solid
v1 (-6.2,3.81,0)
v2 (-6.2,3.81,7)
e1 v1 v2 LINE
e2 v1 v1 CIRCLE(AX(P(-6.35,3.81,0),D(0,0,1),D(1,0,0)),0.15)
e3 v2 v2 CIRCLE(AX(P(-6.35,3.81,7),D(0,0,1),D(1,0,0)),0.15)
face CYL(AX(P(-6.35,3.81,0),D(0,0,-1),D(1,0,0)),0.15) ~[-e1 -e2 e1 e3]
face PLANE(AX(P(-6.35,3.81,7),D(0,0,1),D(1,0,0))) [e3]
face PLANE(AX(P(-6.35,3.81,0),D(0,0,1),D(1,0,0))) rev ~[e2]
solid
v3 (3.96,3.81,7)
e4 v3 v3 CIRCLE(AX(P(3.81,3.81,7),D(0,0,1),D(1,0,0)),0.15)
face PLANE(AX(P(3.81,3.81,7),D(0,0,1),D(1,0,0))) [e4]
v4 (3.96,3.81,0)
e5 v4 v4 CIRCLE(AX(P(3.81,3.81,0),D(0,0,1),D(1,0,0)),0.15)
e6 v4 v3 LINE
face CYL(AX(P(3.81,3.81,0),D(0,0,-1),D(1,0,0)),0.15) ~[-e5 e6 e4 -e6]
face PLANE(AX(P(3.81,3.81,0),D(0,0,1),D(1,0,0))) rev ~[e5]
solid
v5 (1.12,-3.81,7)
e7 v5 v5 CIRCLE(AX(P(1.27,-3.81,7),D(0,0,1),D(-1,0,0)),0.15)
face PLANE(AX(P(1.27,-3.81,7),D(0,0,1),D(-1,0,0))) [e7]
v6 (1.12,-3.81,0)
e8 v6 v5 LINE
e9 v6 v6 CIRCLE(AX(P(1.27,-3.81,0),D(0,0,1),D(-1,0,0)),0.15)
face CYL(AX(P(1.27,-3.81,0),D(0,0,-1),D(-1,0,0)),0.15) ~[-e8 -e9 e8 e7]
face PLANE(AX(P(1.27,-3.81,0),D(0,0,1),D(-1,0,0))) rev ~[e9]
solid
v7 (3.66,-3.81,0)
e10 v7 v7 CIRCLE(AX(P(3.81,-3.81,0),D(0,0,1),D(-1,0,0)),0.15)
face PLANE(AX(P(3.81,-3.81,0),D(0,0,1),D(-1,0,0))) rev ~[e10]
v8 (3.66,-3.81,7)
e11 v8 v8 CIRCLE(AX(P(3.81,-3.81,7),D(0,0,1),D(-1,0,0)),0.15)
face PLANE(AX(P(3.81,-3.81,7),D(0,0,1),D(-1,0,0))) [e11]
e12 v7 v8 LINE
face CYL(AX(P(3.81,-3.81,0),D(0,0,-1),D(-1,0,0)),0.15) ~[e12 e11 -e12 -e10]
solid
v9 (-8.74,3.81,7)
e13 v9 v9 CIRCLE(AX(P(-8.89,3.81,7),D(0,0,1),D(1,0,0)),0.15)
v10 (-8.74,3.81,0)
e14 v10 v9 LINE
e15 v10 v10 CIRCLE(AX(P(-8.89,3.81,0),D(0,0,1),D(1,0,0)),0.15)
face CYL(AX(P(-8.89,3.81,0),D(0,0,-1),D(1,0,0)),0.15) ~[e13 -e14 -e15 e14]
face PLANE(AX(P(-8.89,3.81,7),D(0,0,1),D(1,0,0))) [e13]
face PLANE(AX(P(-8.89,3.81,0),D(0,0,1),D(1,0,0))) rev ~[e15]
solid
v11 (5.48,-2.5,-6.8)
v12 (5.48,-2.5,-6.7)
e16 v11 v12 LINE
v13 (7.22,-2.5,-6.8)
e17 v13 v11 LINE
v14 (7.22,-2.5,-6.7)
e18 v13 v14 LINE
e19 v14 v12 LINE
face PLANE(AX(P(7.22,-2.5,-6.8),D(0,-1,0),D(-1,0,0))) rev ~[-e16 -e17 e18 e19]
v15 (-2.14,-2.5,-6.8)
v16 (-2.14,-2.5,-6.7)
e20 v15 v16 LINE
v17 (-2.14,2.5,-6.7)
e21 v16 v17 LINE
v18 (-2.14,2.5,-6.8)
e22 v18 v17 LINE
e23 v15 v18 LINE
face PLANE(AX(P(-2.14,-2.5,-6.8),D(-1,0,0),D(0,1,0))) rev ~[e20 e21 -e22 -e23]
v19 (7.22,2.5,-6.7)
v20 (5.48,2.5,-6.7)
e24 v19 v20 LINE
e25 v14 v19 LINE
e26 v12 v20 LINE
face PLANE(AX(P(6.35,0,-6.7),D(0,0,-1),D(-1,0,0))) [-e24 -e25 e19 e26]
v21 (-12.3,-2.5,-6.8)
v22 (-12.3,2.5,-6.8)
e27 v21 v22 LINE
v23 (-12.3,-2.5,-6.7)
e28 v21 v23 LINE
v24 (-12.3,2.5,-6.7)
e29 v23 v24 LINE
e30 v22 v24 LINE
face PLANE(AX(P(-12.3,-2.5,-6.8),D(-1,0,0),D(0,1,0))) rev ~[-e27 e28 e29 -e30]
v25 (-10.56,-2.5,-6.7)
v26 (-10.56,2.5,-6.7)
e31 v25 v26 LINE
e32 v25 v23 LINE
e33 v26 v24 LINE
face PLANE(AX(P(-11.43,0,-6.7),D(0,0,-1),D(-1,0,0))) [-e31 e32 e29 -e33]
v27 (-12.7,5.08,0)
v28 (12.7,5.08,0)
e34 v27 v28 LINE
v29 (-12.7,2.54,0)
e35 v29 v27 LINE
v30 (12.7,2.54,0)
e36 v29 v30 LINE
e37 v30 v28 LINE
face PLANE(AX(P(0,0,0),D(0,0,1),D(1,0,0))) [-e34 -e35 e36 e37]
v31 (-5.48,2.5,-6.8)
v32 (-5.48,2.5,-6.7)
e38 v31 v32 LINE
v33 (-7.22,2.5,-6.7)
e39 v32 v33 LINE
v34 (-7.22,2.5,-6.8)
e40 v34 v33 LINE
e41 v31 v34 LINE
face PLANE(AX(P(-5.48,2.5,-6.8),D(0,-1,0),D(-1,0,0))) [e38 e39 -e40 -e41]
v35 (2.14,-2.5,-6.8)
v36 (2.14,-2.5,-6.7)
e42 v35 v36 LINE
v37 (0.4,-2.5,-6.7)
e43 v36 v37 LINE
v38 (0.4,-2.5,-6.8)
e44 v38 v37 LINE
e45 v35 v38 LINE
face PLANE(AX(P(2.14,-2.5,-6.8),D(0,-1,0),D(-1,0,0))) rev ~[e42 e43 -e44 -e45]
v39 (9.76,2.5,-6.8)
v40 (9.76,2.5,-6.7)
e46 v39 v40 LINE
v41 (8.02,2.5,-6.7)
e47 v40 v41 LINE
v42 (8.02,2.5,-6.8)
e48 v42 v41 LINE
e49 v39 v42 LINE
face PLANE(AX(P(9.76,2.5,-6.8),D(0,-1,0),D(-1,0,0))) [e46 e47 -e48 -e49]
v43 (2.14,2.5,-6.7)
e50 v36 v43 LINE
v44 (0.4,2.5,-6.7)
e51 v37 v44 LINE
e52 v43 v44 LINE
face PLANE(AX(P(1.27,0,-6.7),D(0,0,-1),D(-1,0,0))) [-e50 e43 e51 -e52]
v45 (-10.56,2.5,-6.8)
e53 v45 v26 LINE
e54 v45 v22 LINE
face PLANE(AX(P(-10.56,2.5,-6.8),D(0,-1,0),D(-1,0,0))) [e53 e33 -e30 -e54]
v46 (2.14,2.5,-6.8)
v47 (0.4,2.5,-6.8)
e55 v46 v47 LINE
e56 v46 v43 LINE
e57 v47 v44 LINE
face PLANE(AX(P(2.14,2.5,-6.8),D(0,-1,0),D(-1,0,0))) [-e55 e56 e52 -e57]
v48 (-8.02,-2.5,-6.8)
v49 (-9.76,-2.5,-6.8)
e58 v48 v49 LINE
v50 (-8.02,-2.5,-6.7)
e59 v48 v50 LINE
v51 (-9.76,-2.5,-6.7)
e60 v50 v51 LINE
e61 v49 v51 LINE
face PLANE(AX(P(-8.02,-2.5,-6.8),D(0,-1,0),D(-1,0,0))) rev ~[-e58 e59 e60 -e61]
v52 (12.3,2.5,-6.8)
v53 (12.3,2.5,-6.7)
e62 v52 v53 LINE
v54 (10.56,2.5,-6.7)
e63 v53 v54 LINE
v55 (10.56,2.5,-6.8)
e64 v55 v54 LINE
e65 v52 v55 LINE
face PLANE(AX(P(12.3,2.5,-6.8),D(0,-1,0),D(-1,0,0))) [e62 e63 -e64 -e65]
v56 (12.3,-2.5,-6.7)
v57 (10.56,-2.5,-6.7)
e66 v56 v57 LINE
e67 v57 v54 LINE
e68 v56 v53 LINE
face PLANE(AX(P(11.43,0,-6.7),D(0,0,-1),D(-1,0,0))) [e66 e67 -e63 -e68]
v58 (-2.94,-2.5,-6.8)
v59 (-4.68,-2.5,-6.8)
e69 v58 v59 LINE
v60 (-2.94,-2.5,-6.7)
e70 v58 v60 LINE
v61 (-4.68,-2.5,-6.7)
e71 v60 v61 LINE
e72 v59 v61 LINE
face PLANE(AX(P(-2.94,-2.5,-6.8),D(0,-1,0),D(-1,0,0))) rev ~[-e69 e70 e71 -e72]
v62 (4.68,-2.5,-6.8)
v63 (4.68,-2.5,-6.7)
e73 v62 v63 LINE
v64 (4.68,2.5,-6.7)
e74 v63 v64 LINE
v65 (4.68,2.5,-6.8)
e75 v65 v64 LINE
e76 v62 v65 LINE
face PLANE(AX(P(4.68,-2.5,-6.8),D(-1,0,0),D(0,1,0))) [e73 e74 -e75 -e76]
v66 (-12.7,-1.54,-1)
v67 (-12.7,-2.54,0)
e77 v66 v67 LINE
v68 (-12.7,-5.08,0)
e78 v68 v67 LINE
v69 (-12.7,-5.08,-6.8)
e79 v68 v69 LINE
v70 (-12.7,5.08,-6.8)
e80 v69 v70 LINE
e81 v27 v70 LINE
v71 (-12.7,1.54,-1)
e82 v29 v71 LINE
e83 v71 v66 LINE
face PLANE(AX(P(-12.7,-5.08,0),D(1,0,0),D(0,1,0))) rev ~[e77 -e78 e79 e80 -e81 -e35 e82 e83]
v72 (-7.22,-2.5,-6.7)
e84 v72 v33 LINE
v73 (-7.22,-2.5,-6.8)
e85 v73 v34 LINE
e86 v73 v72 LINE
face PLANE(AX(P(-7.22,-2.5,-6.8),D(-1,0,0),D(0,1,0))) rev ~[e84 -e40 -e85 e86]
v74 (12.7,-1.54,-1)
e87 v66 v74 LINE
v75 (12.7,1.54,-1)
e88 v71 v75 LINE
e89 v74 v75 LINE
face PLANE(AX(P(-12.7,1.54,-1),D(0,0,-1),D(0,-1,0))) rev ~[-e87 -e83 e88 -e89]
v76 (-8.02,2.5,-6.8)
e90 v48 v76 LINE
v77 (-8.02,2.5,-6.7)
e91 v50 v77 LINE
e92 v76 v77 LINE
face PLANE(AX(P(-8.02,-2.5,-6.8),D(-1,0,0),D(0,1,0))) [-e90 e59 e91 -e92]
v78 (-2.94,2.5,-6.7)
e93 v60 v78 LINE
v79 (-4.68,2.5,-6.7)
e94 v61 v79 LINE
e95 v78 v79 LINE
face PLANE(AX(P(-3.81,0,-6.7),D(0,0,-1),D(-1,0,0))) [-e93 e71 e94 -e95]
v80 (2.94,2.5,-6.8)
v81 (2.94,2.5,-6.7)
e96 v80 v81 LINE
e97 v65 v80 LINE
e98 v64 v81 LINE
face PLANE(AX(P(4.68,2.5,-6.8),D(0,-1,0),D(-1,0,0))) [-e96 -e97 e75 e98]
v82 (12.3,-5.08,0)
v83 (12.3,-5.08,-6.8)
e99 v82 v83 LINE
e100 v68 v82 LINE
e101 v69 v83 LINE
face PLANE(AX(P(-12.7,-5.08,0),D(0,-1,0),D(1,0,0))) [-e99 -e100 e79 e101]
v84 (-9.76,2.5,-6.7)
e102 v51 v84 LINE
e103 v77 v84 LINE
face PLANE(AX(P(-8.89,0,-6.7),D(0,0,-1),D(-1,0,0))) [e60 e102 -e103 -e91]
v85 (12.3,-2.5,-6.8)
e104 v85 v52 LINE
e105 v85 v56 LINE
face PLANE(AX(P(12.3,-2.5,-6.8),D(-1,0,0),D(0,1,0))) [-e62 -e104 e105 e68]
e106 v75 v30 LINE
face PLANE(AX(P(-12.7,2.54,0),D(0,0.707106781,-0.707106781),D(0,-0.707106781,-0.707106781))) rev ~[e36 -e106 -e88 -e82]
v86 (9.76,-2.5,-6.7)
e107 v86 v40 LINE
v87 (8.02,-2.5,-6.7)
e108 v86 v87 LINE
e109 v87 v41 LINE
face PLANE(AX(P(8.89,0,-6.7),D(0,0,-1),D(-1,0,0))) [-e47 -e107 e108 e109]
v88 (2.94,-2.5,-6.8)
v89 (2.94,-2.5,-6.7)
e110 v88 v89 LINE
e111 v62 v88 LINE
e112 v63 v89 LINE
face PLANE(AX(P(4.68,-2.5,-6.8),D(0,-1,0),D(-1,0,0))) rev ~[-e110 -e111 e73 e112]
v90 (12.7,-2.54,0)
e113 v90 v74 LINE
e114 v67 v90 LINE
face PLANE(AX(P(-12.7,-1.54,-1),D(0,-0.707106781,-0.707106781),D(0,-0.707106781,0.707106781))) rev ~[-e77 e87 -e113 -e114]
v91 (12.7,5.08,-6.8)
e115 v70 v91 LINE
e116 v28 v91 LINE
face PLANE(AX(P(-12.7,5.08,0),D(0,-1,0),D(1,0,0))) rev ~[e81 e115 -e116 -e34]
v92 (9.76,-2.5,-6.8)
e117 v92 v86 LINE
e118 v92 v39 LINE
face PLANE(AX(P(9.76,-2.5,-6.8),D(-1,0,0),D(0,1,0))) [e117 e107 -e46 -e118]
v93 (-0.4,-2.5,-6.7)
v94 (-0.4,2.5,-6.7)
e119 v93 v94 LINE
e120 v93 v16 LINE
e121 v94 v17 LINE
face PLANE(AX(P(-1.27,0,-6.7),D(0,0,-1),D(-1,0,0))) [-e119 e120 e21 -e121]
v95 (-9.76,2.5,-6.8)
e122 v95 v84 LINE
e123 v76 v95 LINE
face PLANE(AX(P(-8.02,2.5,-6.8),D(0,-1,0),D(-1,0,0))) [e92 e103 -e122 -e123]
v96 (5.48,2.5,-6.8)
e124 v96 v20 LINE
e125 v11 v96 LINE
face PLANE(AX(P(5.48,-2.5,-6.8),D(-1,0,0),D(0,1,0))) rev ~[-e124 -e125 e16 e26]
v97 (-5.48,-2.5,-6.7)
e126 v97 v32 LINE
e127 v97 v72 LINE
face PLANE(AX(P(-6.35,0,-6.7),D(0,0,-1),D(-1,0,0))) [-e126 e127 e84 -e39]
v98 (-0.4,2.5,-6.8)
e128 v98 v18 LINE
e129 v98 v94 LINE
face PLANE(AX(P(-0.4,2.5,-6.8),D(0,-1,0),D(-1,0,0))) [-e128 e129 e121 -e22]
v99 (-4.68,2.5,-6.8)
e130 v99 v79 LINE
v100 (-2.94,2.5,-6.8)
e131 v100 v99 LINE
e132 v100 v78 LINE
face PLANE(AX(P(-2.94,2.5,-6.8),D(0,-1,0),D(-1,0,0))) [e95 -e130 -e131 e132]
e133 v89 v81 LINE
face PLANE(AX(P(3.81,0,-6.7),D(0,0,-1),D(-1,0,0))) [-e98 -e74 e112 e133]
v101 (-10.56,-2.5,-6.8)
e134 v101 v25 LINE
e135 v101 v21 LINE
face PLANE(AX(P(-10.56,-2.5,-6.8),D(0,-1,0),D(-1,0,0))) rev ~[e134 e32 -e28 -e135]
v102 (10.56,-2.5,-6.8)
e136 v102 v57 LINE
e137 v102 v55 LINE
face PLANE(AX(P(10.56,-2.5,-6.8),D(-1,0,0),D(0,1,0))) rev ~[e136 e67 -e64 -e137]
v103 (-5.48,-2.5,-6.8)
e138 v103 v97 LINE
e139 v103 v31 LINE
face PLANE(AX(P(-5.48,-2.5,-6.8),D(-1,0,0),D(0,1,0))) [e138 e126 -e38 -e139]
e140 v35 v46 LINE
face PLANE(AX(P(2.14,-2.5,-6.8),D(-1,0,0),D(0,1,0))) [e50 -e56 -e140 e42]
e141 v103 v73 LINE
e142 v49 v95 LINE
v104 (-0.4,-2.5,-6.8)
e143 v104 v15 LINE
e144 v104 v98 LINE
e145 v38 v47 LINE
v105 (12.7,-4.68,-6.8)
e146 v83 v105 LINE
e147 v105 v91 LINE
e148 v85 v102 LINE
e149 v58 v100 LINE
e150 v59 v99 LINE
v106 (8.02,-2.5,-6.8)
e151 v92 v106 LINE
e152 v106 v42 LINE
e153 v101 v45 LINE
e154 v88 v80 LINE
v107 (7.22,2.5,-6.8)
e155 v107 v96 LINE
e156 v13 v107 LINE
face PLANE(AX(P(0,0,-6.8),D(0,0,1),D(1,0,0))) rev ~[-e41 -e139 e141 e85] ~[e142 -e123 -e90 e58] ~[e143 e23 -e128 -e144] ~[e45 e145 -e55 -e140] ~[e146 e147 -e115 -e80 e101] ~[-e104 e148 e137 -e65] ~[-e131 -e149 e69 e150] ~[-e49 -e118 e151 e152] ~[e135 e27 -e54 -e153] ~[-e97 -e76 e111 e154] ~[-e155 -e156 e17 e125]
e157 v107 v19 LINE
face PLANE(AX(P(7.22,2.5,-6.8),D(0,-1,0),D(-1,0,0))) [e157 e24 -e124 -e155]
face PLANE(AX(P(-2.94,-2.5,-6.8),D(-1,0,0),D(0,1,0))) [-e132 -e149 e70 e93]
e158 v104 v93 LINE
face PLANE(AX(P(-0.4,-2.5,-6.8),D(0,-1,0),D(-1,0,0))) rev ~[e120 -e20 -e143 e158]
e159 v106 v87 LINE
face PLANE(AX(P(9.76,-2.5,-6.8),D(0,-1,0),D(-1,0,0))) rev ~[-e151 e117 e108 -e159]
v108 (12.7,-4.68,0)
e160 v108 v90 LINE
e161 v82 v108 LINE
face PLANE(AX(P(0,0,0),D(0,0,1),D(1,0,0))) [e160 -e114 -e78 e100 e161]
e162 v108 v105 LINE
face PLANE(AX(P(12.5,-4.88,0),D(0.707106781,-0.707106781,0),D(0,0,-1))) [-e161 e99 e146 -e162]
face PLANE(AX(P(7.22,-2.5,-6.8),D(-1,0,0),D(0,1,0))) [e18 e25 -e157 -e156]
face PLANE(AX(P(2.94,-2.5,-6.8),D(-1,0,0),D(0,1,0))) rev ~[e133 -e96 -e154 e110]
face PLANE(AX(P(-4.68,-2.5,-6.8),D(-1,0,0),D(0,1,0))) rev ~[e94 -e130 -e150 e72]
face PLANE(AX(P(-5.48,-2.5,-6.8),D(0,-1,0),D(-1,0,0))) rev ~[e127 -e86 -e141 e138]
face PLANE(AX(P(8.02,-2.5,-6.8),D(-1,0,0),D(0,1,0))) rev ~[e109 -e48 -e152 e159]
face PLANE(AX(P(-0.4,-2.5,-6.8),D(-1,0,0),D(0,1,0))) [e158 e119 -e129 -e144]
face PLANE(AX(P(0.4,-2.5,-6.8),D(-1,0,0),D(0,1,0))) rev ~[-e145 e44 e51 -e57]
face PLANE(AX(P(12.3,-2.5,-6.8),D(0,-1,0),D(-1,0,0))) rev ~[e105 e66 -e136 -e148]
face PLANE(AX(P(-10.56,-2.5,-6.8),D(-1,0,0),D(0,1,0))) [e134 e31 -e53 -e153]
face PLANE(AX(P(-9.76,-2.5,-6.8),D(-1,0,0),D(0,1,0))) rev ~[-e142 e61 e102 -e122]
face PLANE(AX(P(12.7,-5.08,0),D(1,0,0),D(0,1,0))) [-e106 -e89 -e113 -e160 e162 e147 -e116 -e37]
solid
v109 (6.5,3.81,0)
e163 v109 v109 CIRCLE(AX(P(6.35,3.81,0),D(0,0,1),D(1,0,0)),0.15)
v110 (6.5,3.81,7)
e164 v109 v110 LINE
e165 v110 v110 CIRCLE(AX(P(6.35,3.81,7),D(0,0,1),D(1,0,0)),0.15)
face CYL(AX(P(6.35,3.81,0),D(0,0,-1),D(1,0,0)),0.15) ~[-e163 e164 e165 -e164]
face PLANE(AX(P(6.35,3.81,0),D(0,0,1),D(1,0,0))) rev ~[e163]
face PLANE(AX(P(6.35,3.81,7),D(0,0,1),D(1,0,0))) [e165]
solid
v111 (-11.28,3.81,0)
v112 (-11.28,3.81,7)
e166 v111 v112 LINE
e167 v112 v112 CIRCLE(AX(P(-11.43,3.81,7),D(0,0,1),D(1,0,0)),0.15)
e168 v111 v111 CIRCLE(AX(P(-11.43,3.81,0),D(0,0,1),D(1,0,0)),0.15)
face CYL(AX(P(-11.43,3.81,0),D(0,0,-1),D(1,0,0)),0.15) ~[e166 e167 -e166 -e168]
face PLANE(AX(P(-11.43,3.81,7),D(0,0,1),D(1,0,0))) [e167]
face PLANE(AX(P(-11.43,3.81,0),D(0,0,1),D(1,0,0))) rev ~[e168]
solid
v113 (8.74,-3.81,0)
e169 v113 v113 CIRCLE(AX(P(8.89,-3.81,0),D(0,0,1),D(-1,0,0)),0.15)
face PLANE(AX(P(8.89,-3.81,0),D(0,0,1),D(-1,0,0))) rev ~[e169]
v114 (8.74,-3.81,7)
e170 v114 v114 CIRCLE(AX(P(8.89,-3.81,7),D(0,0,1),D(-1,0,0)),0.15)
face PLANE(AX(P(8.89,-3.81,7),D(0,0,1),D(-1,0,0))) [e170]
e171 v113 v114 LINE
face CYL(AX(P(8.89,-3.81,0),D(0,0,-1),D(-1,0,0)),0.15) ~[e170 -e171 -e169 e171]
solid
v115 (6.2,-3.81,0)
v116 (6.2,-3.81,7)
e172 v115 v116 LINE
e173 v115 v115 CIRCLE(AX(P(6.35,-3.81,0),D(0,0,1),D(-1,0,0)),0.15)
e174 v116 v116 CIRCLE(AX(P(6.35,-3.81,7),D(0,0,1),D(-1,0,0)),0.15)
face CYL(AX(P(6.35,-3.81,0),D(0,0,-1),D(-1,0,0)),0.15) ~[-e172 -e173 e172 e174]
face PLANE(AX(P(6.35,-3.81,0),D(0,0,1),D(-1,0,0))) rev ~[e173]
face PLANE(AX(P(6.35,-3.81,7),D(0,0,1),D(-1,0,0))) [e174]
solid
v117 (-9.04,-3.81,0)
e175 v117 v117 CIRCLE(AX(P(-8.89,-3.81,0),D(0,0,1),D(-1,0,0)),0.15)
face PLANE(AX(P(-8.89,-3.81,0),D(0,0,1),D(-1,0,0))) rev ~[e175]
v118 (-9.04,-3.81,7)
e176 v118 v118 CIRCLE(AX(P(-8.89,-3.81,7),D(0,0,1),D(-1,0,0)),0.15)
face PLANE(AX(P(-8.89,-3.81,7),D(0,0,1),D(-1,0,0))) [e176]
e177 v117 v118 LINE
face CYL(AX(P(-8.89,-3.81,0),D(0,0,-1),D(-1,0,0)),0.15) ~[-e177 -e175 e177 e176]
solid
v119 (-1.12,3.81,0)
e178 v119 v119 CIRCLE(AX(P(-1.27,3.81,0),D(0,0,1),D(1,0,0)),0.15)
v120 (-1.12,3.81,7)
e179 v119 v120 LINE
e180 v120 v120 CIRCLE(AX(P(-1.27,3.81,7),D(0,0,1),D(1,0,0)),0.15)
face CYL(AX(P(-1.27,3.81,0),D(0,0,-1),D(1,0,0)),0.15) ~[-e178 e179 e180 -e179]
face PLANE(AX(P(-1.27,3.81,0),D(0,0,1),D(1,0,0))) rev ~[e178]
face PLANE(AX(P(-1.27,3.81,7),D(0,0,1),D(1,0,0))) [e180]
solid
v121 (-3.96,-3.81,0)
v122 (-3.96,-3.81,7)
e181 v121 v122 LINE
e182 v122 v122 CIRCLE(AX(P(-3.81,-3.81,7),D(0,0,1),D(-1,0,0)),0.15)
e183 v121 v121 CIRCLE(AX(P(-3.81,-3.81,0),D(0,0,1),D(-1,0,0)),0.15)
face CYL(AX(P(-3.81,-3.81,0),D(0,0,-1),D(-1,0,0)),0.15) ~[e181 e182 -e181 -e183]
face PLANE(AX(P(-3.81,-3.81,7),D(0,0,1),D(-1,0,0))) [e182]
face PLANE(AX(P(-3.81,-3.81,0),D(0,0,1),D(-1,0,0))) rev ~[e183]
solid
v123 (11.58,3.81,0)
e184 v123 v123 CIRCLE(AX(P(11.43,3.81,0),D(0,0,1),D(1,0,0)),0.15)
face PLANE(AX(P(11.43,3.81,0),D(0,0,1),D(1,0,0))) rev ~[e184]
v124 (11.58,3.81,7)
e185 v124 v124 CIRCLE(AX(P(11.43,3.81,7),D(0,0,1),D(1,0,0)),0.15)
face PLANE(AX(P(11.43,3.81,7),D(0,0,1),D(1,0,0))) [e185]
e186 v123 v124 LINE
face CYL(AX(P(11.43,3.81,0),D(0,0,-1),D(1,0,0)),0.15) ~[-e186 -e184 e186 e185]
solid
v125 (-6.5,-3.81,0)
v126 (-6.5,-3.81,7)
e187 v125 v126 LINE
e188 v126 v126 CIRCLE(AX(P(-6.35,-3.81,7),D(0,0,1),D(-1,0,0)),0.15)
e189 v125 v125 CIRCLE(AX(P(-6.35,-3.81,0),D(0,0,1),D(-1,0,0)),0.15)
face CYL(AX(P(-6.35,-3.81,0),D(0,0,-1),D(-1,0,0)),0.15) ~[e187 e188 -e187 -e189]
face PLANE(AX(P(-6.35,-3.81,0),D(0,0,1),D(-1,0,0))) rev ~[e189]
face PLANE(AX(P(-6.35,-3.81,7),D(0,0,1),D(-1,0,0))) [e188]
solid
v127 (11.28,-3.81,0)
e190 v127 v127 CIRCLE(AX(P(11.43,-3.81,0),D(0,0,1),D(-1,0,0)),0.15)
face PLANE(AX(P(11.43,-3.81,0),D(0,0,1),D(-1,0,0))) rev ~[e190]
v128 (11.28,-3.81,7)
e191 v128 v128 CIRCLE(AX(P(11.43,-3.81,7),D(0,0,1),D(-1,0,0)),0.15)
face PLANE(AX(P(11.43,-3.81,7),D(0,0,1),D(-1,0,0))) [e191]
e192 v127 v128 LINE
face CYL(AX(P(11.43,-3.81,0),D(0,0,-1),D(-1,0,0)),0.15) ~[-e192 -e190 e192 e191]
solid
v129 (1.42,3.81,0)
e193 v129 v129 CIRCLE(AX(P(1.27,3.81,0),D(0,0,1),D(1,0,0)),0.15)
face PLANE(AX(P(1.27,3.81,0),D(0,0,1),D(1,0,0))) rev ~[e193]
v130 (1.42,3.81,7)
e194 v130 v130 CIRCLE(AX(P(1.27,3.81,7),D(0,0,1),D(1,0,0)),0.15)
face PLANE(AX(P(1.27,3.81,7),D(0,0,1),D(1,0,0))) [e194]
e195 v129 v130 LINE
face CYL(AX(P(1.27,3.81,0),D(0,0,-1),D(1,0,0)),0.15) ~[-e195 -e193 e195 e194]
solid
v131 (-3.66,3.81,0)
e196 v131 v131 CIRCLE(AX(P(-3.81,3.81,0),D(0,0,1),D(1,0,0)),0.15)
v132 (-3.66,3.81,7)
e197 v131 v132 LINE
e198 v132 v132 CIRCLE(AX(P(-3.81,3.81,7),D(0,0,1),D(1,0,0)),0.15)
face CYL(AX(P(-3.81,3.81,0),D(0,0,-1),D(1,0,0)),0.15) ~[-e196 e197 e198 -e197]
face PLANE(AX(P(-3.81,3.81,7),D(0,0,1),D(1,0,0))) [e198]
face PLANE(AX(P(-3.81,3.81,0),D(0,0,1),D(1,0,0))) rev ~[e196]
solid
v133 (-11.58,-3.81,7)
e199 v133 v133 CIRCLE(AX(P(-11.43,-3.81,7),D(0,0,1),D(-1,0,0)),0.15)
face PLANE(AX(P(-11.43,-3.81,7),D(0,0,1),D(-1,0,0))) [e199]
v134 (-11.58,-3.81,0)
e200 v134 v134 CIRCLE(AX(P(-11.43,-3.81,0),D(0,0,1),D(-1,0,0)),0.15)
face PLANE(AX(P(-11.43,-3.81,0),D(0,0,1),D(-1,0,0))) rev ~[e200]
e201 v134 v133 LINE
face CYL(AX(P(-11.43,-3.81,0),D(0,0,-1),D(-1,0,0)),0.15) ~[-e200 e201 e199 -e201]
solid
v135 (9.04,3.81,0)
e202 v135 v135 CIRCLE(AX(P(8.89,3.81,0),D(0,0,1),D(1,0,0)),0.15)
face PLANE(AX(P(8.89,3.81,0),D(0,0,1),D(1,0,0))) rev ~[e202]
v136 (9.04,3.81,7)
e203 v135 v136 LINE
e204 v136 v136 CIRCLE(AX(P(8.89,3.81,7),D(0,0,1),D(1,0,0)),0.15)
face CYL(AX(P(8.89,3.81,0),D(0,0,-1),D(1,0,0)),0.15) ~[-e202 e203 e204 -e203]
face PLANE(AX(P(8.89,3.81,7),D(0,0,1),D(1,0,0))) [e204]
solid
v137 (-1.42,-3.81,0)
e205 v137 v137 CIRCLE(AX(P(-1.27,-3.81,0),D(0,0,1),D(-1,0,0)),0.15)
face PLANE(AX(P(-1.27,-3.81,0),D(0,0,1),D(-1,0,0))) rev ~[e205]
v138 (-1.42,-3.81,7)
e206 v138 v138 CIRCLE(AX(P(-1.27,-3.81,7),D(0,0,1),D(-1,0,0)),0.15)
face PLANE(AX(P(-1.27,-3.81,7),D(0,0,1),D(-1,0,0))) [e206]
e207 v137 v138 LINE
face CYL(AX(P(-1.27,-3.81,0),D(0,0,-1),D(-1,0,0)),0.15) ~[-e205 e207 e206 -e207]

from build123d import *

# Parameters (mm, degrees)
SKETCH1_W              = 25.4
SKETCH1_H              = 10.16
BOSS_EXTRUDE1_DEPTH    = 6.8
CUT_EXTRUDE1_DEPTH     = 27.780709475
SKETCH3_R              = 0.15
BOSS_EXTRUDE2_DEPTH    = 7
BOSS_EXTRUDE2_2_DEPTH  = 7
BOSS_EXTRUDE2_3_DEPTH  = 7
BOSS_EXTRUDE2_4_DEPTH  = 7
BOSS_EXTRUDE2_5_DEPTH  = 7
BOSS_EXTRUDE2_6_DEPTH  = 7
BOSS_EXTRUDE2_7_DEPTH  = 7
BOSS_EXTRUDE2_8_DEPTH  = 7
BOSS_EXTRUDE2_9_DEPTH  = 7
BOSS_EXTRUDE2_10_DEPTH = 7
BOSS_EXTRUDE2_11_DEPTH = 7
BOSS_EXTRUDE2_12_DEPTH = 7
BOSS_EXTRUDE2_13_DEPTH = 7
BOSS_EXTRUDE2_14_DEPTH = 7
BOSS_EXTRUDE2_15_DEPTH = 7
BOSS_EXTRUDE2_16_DEPTH = 7
BOSS_EXTRUDE2_17_DEPTH = 7
BOSS_EXTRUDE2_18_DEPTH = 7
BOSS_EXTRUDE2_19_DEPTH = 7
BOSS_EXTRUDE2_20_DEPTH = 7
SKETCH4_W              = 1.74
SKETCH4_H              = 5
CUT_EXTRUDE2_DEPTH     = 0.1
CHAMFER1_SIZE          = 0.4


with BuildPart() as part:
    # Sketch1 → Boss-Extrude1 (new body)
    with BuildSketch(Plane.XY):
        Rectangle(SKETCH1_W, SKETCH1_H)
    extrude(amount=-BOSS_EXTRUDE1_DEPTH)

    # Sketch2 → Cut-Extrude1 (cut, through all)
    with BuildSketch(Plane.ZY.offset(12.7)):
        Polygon((0, -2.54), (0, 2.54), (-1, 1.54), (-1, -1.54), align=None)
    extrude(amount=-CUT_EXTRUDE1_DEPTH, mode=Mode.SUBTRACT)

    # Sketch4 → Cut-Extrude2 (cut)
    with BuildSketch(Plane(origin=(0, 0, -6.8), x_dir=(-1, 0, 0), z_dir=(0, 0, -1))):
        with Locations((11.43, 0)):
            Rectangle(SKETCH4_W, SKETCH4_H)
        with Locations((8.89, 0)):
            Rectangle(SKETCH4_W, SKETCH4_H)
        with Locations((6.35, 0)):
            Rectangle(SKETCH4_W, SKETCH4_H)
        with Locations((3.81, 0)):
            Rectangle(SKETCH4_W, SKETCH4_H)
        with Locations((1.27, 0)):
            Rectangle(SKETCH4_W, SKETCH4_H)
        with Locations((-1.27, 0)):
            Rectangle(SKETCH4_W, SKETCH4_H)
        with Locations((-3.81, 0)):
            Rectangle(SKETCH4_W, SKETCH4_H)
        with Locations((-6.35, 0)):
            Rectangle(SKETCH4_W, SKETCH4_H)
        with Locations((-8.89, 0)):
            Rectangle(SKETCH4_W, SKETCH4_H)
        with Locations((-11.43, 0)):
            Rectangle(SKETCH4_W, SKETCH4_H)
    extrude(amount=-CUT_EXTRUDE2_DEPTH, mode=Mode.SUBTRACT)

    # Chamfer1
    chamfer1_edges = [part.edges().sort_by_distance(p)[0] for p in [
        (12.7, -5.08, -3.4),
    ]]
    chamfer(chamfer1_edges, length=CHAMFER1_SIZE)


with BuildPart() as body_2:
    # Sketch3 → Boss-Extrude2 (new body)
    with BuildSketch(Plane.XY):
        with Locations((11.43, 3.81)):
            Circle(SKETCH3_R)
    extrude(amount=BOSS_EXTRUDE2_DEPTH)


with BuildPart() as body_3:
    # Sketch3 → Boss-Extrude2 2 (new body)
    with BuildSketch(Plane.XY):
        with Locations((8.89, 3.81)):
            Circle(SKETCH3_R)
    extrude(amount=BOSS_EXTRUDE2_2_DEPTH)


with BuildPart() as body_4:
    # Sketch3 → Boss-Extrude2 3 (new body)
    with BuildSketch(Plane.XY):
        with Locations((6.35, 3.81)):
            Circle(SKETCH3_R)
    extrude(amount=BOSS_EXTRUDE2_3_DEPTH)


with BuildPart() as body_5:
    # Sketch3 → Boss-Extrude2 4 (new body)
    with BuildSketch(Plane.XY):
        with Locations((3.81, 3.81)):
            Circle(SKETCH3_R)
    extrude(amount=BOSS_EXTRUDE2_4_DEPTH)


with BuildPart() as body_6:
    # Sketch3 → Boss-Extrude2 5 (new body)
    with BuildSketch(Plane.XY):
        with Locations((1.27, 3.81)):
            Circle(SKETCH3_R)
    extrude(amount=BOSS_EXTRUDE2_5_DEPTH)


with BuildPart() as body_7:
    # Sketch3 → Boss-Extrude2 6 (new body)
    with BuildSketch(Plane.XY):
        with Locations((-1.27, 3.81)):
            Circle(SKETCH3_R)
    extrude(amount=BOSS_EXTRUDE2_6_DEPTH)


with BuildPart() as body_8:
    # Sketch3 → Boss-Extrude2 7 (new body)
    with BuildSketch(Plane.XY):
        with Locations((-3.81, 3.81)):
            Circle(SKETCH3_R)
    extrude(amount=BOSS_EXTRUDE2_7_DEPTH)


with BuildPart() as body_9:
    # Sketch3 → Boss-Extrude2 8 (new body)
    with BuildSketch(Plane.XY):
        with Locations((-6.35, 3.81)):
            Circle(SKETCH3_R)
    extrude(amount=BOSS_EXTRUDE2_8_DEPTH)


with BuildPart() as body_10:
    # Sketch3 → Boss-Extrude2 9 (new body)
    with BuildSketch(Plane.XY):
        with Locations((-8.89, 3.81)):
            Circle(SKETCH3_R)
    extrude(amount=BOSS_EXTRUDE2_9_DEPTH)


with BuildPart() as body_11:
    # Sketch3 → Boss-Extrude2 10 (new body)
    with BuildSketch(Plane.XY):
        with Locations((-11.43, 3.81)):
            Circle(SKETCH3_R)
    extrude(amount=BOSS_EXTRUDE2_10_DEPTH)


with BuildPart() as body_12:
    # Sketch3 → Boss-Extrude2 11 (new body)
    with BuildSketch(Plane.XY):
        with Locations(Location((-11.43, -3.81, 0), (0, 0, 180))):
            Circle(SKETCH3_R)
    extrude(amount=BOSS_EXTRUDE2_11_DEPTH)


with BuildPart() as body_13:
    # Sketch3 → Boss-Extrude2 12 (new body)
    with BuildSketch(Plane.XY):
        with Locations(Location((-8.89, -3.81, 0), (0, 0, 180))):
            Circle(SKETCH3_R)
    extrude(amount=BOSS_EXTRUDE2_12_DEPTH)


with BuildPart() as body_14:
    # Sketch3 → Boss-Extrude2 13 (new body)
    with BuildSketch(Plane.XY):
        with Locations(Location((-6.35, -3.81, 0), (0, 0, 180))):
            Circle(SKETCH3_R)
    extrude(amount=BOSS_EXTRUDE2_13_DEPTH)


with BuildPart() as body_15:
    # Sketch3 → Boss-Extrude2 14 (new body)
    with BuildSketch(Plane.XY):
        with Locations(Location((-3.81, -3.81, 0), (0, 0, 180))):
            Circle(SKETCH3_R)
    extrude(amount=BOSS_EXTRUDE2_14_DEPTH)


with BuildPart() as body_16:
    # Sketch3 → Boss-Extrude2 15 (new body)
    with BuildSketch(Plane.XY):
        with Locations(Location((-1.27, -3.81, 0), (0, 0, 180))):
            Circle(SKETCH3_R)
    extrude(amount=BOSS_EXTRUDE2_15_DEPTH)


with BuildPart() as body_17:
    # Sketch3 → Boss-Extrude2 16 (new body)
    with BuildSketch(Plane.XY):
        with Locations(Location((1.27, -3.81, 0), (0, 0, 180))):
            Circle(SKETCH3_R)
    extrude(amount=BOSS_EXTRUDE2_16_DEPTH)


with BuildPart() as body_18:
    # Sketch3 → Boss-Extrude2 17 (new body)
    with BuildSketch(Plane.XY):
        with Locations(Location((3.81, -3.81, 0), (0, 0, 180))):
            Circle(SKETCH3_R)
    extrude(amount=BOSS_EXTRUDE2_17_DEPTH)


with BuildPart() as body_19:
    # Sketch3 → Boss-Extrude2 18 (new body)
    with BuildSketch(Plane.XY):
        with Locations(Location((6.35, -3.81, 0), (0, 0, 180))):
            Circle(SKETCH3_R)
    extrude(amount=BOSS_EXTRUDE2_18_DEPTH)


with BuildPart() as body_20:
    # Sketch3 → Boss-Extrude2 19 (new body)
    with BuildSketch(Plane.XY):
        with Locations(Location((8.89, -3.81, 0), (0, 0, 180))):
            Circle(SKETCH3_R)
    extrude(amount=BOSS_EXTRUDE2_19_DEPTH)


with BuildPart() as body_21:
    # Sketch3 → Boss-Extrude2 20 (new body)
    with BuildSketch(Plane.XY):
        with Locations(Location((11.43, -3.81, 0), (0, 0, 180))):
            Circle(SKETCH3_R)
    extrude(amount=BOSS_EXTRUDE2_20_DEPTH)


solid = Compound([part.part, body_2.part, body_3.part, body_4.part, body_5.part, body_6.part, body_7.part, body_8.part, body_9.part, body_10.part, body_11.part, body_12.part, body_13.part, body_14.part, body_15.part, body_16.part, body_17.part, body_18.part, body_19.part, body_20.part, body_21.part])
